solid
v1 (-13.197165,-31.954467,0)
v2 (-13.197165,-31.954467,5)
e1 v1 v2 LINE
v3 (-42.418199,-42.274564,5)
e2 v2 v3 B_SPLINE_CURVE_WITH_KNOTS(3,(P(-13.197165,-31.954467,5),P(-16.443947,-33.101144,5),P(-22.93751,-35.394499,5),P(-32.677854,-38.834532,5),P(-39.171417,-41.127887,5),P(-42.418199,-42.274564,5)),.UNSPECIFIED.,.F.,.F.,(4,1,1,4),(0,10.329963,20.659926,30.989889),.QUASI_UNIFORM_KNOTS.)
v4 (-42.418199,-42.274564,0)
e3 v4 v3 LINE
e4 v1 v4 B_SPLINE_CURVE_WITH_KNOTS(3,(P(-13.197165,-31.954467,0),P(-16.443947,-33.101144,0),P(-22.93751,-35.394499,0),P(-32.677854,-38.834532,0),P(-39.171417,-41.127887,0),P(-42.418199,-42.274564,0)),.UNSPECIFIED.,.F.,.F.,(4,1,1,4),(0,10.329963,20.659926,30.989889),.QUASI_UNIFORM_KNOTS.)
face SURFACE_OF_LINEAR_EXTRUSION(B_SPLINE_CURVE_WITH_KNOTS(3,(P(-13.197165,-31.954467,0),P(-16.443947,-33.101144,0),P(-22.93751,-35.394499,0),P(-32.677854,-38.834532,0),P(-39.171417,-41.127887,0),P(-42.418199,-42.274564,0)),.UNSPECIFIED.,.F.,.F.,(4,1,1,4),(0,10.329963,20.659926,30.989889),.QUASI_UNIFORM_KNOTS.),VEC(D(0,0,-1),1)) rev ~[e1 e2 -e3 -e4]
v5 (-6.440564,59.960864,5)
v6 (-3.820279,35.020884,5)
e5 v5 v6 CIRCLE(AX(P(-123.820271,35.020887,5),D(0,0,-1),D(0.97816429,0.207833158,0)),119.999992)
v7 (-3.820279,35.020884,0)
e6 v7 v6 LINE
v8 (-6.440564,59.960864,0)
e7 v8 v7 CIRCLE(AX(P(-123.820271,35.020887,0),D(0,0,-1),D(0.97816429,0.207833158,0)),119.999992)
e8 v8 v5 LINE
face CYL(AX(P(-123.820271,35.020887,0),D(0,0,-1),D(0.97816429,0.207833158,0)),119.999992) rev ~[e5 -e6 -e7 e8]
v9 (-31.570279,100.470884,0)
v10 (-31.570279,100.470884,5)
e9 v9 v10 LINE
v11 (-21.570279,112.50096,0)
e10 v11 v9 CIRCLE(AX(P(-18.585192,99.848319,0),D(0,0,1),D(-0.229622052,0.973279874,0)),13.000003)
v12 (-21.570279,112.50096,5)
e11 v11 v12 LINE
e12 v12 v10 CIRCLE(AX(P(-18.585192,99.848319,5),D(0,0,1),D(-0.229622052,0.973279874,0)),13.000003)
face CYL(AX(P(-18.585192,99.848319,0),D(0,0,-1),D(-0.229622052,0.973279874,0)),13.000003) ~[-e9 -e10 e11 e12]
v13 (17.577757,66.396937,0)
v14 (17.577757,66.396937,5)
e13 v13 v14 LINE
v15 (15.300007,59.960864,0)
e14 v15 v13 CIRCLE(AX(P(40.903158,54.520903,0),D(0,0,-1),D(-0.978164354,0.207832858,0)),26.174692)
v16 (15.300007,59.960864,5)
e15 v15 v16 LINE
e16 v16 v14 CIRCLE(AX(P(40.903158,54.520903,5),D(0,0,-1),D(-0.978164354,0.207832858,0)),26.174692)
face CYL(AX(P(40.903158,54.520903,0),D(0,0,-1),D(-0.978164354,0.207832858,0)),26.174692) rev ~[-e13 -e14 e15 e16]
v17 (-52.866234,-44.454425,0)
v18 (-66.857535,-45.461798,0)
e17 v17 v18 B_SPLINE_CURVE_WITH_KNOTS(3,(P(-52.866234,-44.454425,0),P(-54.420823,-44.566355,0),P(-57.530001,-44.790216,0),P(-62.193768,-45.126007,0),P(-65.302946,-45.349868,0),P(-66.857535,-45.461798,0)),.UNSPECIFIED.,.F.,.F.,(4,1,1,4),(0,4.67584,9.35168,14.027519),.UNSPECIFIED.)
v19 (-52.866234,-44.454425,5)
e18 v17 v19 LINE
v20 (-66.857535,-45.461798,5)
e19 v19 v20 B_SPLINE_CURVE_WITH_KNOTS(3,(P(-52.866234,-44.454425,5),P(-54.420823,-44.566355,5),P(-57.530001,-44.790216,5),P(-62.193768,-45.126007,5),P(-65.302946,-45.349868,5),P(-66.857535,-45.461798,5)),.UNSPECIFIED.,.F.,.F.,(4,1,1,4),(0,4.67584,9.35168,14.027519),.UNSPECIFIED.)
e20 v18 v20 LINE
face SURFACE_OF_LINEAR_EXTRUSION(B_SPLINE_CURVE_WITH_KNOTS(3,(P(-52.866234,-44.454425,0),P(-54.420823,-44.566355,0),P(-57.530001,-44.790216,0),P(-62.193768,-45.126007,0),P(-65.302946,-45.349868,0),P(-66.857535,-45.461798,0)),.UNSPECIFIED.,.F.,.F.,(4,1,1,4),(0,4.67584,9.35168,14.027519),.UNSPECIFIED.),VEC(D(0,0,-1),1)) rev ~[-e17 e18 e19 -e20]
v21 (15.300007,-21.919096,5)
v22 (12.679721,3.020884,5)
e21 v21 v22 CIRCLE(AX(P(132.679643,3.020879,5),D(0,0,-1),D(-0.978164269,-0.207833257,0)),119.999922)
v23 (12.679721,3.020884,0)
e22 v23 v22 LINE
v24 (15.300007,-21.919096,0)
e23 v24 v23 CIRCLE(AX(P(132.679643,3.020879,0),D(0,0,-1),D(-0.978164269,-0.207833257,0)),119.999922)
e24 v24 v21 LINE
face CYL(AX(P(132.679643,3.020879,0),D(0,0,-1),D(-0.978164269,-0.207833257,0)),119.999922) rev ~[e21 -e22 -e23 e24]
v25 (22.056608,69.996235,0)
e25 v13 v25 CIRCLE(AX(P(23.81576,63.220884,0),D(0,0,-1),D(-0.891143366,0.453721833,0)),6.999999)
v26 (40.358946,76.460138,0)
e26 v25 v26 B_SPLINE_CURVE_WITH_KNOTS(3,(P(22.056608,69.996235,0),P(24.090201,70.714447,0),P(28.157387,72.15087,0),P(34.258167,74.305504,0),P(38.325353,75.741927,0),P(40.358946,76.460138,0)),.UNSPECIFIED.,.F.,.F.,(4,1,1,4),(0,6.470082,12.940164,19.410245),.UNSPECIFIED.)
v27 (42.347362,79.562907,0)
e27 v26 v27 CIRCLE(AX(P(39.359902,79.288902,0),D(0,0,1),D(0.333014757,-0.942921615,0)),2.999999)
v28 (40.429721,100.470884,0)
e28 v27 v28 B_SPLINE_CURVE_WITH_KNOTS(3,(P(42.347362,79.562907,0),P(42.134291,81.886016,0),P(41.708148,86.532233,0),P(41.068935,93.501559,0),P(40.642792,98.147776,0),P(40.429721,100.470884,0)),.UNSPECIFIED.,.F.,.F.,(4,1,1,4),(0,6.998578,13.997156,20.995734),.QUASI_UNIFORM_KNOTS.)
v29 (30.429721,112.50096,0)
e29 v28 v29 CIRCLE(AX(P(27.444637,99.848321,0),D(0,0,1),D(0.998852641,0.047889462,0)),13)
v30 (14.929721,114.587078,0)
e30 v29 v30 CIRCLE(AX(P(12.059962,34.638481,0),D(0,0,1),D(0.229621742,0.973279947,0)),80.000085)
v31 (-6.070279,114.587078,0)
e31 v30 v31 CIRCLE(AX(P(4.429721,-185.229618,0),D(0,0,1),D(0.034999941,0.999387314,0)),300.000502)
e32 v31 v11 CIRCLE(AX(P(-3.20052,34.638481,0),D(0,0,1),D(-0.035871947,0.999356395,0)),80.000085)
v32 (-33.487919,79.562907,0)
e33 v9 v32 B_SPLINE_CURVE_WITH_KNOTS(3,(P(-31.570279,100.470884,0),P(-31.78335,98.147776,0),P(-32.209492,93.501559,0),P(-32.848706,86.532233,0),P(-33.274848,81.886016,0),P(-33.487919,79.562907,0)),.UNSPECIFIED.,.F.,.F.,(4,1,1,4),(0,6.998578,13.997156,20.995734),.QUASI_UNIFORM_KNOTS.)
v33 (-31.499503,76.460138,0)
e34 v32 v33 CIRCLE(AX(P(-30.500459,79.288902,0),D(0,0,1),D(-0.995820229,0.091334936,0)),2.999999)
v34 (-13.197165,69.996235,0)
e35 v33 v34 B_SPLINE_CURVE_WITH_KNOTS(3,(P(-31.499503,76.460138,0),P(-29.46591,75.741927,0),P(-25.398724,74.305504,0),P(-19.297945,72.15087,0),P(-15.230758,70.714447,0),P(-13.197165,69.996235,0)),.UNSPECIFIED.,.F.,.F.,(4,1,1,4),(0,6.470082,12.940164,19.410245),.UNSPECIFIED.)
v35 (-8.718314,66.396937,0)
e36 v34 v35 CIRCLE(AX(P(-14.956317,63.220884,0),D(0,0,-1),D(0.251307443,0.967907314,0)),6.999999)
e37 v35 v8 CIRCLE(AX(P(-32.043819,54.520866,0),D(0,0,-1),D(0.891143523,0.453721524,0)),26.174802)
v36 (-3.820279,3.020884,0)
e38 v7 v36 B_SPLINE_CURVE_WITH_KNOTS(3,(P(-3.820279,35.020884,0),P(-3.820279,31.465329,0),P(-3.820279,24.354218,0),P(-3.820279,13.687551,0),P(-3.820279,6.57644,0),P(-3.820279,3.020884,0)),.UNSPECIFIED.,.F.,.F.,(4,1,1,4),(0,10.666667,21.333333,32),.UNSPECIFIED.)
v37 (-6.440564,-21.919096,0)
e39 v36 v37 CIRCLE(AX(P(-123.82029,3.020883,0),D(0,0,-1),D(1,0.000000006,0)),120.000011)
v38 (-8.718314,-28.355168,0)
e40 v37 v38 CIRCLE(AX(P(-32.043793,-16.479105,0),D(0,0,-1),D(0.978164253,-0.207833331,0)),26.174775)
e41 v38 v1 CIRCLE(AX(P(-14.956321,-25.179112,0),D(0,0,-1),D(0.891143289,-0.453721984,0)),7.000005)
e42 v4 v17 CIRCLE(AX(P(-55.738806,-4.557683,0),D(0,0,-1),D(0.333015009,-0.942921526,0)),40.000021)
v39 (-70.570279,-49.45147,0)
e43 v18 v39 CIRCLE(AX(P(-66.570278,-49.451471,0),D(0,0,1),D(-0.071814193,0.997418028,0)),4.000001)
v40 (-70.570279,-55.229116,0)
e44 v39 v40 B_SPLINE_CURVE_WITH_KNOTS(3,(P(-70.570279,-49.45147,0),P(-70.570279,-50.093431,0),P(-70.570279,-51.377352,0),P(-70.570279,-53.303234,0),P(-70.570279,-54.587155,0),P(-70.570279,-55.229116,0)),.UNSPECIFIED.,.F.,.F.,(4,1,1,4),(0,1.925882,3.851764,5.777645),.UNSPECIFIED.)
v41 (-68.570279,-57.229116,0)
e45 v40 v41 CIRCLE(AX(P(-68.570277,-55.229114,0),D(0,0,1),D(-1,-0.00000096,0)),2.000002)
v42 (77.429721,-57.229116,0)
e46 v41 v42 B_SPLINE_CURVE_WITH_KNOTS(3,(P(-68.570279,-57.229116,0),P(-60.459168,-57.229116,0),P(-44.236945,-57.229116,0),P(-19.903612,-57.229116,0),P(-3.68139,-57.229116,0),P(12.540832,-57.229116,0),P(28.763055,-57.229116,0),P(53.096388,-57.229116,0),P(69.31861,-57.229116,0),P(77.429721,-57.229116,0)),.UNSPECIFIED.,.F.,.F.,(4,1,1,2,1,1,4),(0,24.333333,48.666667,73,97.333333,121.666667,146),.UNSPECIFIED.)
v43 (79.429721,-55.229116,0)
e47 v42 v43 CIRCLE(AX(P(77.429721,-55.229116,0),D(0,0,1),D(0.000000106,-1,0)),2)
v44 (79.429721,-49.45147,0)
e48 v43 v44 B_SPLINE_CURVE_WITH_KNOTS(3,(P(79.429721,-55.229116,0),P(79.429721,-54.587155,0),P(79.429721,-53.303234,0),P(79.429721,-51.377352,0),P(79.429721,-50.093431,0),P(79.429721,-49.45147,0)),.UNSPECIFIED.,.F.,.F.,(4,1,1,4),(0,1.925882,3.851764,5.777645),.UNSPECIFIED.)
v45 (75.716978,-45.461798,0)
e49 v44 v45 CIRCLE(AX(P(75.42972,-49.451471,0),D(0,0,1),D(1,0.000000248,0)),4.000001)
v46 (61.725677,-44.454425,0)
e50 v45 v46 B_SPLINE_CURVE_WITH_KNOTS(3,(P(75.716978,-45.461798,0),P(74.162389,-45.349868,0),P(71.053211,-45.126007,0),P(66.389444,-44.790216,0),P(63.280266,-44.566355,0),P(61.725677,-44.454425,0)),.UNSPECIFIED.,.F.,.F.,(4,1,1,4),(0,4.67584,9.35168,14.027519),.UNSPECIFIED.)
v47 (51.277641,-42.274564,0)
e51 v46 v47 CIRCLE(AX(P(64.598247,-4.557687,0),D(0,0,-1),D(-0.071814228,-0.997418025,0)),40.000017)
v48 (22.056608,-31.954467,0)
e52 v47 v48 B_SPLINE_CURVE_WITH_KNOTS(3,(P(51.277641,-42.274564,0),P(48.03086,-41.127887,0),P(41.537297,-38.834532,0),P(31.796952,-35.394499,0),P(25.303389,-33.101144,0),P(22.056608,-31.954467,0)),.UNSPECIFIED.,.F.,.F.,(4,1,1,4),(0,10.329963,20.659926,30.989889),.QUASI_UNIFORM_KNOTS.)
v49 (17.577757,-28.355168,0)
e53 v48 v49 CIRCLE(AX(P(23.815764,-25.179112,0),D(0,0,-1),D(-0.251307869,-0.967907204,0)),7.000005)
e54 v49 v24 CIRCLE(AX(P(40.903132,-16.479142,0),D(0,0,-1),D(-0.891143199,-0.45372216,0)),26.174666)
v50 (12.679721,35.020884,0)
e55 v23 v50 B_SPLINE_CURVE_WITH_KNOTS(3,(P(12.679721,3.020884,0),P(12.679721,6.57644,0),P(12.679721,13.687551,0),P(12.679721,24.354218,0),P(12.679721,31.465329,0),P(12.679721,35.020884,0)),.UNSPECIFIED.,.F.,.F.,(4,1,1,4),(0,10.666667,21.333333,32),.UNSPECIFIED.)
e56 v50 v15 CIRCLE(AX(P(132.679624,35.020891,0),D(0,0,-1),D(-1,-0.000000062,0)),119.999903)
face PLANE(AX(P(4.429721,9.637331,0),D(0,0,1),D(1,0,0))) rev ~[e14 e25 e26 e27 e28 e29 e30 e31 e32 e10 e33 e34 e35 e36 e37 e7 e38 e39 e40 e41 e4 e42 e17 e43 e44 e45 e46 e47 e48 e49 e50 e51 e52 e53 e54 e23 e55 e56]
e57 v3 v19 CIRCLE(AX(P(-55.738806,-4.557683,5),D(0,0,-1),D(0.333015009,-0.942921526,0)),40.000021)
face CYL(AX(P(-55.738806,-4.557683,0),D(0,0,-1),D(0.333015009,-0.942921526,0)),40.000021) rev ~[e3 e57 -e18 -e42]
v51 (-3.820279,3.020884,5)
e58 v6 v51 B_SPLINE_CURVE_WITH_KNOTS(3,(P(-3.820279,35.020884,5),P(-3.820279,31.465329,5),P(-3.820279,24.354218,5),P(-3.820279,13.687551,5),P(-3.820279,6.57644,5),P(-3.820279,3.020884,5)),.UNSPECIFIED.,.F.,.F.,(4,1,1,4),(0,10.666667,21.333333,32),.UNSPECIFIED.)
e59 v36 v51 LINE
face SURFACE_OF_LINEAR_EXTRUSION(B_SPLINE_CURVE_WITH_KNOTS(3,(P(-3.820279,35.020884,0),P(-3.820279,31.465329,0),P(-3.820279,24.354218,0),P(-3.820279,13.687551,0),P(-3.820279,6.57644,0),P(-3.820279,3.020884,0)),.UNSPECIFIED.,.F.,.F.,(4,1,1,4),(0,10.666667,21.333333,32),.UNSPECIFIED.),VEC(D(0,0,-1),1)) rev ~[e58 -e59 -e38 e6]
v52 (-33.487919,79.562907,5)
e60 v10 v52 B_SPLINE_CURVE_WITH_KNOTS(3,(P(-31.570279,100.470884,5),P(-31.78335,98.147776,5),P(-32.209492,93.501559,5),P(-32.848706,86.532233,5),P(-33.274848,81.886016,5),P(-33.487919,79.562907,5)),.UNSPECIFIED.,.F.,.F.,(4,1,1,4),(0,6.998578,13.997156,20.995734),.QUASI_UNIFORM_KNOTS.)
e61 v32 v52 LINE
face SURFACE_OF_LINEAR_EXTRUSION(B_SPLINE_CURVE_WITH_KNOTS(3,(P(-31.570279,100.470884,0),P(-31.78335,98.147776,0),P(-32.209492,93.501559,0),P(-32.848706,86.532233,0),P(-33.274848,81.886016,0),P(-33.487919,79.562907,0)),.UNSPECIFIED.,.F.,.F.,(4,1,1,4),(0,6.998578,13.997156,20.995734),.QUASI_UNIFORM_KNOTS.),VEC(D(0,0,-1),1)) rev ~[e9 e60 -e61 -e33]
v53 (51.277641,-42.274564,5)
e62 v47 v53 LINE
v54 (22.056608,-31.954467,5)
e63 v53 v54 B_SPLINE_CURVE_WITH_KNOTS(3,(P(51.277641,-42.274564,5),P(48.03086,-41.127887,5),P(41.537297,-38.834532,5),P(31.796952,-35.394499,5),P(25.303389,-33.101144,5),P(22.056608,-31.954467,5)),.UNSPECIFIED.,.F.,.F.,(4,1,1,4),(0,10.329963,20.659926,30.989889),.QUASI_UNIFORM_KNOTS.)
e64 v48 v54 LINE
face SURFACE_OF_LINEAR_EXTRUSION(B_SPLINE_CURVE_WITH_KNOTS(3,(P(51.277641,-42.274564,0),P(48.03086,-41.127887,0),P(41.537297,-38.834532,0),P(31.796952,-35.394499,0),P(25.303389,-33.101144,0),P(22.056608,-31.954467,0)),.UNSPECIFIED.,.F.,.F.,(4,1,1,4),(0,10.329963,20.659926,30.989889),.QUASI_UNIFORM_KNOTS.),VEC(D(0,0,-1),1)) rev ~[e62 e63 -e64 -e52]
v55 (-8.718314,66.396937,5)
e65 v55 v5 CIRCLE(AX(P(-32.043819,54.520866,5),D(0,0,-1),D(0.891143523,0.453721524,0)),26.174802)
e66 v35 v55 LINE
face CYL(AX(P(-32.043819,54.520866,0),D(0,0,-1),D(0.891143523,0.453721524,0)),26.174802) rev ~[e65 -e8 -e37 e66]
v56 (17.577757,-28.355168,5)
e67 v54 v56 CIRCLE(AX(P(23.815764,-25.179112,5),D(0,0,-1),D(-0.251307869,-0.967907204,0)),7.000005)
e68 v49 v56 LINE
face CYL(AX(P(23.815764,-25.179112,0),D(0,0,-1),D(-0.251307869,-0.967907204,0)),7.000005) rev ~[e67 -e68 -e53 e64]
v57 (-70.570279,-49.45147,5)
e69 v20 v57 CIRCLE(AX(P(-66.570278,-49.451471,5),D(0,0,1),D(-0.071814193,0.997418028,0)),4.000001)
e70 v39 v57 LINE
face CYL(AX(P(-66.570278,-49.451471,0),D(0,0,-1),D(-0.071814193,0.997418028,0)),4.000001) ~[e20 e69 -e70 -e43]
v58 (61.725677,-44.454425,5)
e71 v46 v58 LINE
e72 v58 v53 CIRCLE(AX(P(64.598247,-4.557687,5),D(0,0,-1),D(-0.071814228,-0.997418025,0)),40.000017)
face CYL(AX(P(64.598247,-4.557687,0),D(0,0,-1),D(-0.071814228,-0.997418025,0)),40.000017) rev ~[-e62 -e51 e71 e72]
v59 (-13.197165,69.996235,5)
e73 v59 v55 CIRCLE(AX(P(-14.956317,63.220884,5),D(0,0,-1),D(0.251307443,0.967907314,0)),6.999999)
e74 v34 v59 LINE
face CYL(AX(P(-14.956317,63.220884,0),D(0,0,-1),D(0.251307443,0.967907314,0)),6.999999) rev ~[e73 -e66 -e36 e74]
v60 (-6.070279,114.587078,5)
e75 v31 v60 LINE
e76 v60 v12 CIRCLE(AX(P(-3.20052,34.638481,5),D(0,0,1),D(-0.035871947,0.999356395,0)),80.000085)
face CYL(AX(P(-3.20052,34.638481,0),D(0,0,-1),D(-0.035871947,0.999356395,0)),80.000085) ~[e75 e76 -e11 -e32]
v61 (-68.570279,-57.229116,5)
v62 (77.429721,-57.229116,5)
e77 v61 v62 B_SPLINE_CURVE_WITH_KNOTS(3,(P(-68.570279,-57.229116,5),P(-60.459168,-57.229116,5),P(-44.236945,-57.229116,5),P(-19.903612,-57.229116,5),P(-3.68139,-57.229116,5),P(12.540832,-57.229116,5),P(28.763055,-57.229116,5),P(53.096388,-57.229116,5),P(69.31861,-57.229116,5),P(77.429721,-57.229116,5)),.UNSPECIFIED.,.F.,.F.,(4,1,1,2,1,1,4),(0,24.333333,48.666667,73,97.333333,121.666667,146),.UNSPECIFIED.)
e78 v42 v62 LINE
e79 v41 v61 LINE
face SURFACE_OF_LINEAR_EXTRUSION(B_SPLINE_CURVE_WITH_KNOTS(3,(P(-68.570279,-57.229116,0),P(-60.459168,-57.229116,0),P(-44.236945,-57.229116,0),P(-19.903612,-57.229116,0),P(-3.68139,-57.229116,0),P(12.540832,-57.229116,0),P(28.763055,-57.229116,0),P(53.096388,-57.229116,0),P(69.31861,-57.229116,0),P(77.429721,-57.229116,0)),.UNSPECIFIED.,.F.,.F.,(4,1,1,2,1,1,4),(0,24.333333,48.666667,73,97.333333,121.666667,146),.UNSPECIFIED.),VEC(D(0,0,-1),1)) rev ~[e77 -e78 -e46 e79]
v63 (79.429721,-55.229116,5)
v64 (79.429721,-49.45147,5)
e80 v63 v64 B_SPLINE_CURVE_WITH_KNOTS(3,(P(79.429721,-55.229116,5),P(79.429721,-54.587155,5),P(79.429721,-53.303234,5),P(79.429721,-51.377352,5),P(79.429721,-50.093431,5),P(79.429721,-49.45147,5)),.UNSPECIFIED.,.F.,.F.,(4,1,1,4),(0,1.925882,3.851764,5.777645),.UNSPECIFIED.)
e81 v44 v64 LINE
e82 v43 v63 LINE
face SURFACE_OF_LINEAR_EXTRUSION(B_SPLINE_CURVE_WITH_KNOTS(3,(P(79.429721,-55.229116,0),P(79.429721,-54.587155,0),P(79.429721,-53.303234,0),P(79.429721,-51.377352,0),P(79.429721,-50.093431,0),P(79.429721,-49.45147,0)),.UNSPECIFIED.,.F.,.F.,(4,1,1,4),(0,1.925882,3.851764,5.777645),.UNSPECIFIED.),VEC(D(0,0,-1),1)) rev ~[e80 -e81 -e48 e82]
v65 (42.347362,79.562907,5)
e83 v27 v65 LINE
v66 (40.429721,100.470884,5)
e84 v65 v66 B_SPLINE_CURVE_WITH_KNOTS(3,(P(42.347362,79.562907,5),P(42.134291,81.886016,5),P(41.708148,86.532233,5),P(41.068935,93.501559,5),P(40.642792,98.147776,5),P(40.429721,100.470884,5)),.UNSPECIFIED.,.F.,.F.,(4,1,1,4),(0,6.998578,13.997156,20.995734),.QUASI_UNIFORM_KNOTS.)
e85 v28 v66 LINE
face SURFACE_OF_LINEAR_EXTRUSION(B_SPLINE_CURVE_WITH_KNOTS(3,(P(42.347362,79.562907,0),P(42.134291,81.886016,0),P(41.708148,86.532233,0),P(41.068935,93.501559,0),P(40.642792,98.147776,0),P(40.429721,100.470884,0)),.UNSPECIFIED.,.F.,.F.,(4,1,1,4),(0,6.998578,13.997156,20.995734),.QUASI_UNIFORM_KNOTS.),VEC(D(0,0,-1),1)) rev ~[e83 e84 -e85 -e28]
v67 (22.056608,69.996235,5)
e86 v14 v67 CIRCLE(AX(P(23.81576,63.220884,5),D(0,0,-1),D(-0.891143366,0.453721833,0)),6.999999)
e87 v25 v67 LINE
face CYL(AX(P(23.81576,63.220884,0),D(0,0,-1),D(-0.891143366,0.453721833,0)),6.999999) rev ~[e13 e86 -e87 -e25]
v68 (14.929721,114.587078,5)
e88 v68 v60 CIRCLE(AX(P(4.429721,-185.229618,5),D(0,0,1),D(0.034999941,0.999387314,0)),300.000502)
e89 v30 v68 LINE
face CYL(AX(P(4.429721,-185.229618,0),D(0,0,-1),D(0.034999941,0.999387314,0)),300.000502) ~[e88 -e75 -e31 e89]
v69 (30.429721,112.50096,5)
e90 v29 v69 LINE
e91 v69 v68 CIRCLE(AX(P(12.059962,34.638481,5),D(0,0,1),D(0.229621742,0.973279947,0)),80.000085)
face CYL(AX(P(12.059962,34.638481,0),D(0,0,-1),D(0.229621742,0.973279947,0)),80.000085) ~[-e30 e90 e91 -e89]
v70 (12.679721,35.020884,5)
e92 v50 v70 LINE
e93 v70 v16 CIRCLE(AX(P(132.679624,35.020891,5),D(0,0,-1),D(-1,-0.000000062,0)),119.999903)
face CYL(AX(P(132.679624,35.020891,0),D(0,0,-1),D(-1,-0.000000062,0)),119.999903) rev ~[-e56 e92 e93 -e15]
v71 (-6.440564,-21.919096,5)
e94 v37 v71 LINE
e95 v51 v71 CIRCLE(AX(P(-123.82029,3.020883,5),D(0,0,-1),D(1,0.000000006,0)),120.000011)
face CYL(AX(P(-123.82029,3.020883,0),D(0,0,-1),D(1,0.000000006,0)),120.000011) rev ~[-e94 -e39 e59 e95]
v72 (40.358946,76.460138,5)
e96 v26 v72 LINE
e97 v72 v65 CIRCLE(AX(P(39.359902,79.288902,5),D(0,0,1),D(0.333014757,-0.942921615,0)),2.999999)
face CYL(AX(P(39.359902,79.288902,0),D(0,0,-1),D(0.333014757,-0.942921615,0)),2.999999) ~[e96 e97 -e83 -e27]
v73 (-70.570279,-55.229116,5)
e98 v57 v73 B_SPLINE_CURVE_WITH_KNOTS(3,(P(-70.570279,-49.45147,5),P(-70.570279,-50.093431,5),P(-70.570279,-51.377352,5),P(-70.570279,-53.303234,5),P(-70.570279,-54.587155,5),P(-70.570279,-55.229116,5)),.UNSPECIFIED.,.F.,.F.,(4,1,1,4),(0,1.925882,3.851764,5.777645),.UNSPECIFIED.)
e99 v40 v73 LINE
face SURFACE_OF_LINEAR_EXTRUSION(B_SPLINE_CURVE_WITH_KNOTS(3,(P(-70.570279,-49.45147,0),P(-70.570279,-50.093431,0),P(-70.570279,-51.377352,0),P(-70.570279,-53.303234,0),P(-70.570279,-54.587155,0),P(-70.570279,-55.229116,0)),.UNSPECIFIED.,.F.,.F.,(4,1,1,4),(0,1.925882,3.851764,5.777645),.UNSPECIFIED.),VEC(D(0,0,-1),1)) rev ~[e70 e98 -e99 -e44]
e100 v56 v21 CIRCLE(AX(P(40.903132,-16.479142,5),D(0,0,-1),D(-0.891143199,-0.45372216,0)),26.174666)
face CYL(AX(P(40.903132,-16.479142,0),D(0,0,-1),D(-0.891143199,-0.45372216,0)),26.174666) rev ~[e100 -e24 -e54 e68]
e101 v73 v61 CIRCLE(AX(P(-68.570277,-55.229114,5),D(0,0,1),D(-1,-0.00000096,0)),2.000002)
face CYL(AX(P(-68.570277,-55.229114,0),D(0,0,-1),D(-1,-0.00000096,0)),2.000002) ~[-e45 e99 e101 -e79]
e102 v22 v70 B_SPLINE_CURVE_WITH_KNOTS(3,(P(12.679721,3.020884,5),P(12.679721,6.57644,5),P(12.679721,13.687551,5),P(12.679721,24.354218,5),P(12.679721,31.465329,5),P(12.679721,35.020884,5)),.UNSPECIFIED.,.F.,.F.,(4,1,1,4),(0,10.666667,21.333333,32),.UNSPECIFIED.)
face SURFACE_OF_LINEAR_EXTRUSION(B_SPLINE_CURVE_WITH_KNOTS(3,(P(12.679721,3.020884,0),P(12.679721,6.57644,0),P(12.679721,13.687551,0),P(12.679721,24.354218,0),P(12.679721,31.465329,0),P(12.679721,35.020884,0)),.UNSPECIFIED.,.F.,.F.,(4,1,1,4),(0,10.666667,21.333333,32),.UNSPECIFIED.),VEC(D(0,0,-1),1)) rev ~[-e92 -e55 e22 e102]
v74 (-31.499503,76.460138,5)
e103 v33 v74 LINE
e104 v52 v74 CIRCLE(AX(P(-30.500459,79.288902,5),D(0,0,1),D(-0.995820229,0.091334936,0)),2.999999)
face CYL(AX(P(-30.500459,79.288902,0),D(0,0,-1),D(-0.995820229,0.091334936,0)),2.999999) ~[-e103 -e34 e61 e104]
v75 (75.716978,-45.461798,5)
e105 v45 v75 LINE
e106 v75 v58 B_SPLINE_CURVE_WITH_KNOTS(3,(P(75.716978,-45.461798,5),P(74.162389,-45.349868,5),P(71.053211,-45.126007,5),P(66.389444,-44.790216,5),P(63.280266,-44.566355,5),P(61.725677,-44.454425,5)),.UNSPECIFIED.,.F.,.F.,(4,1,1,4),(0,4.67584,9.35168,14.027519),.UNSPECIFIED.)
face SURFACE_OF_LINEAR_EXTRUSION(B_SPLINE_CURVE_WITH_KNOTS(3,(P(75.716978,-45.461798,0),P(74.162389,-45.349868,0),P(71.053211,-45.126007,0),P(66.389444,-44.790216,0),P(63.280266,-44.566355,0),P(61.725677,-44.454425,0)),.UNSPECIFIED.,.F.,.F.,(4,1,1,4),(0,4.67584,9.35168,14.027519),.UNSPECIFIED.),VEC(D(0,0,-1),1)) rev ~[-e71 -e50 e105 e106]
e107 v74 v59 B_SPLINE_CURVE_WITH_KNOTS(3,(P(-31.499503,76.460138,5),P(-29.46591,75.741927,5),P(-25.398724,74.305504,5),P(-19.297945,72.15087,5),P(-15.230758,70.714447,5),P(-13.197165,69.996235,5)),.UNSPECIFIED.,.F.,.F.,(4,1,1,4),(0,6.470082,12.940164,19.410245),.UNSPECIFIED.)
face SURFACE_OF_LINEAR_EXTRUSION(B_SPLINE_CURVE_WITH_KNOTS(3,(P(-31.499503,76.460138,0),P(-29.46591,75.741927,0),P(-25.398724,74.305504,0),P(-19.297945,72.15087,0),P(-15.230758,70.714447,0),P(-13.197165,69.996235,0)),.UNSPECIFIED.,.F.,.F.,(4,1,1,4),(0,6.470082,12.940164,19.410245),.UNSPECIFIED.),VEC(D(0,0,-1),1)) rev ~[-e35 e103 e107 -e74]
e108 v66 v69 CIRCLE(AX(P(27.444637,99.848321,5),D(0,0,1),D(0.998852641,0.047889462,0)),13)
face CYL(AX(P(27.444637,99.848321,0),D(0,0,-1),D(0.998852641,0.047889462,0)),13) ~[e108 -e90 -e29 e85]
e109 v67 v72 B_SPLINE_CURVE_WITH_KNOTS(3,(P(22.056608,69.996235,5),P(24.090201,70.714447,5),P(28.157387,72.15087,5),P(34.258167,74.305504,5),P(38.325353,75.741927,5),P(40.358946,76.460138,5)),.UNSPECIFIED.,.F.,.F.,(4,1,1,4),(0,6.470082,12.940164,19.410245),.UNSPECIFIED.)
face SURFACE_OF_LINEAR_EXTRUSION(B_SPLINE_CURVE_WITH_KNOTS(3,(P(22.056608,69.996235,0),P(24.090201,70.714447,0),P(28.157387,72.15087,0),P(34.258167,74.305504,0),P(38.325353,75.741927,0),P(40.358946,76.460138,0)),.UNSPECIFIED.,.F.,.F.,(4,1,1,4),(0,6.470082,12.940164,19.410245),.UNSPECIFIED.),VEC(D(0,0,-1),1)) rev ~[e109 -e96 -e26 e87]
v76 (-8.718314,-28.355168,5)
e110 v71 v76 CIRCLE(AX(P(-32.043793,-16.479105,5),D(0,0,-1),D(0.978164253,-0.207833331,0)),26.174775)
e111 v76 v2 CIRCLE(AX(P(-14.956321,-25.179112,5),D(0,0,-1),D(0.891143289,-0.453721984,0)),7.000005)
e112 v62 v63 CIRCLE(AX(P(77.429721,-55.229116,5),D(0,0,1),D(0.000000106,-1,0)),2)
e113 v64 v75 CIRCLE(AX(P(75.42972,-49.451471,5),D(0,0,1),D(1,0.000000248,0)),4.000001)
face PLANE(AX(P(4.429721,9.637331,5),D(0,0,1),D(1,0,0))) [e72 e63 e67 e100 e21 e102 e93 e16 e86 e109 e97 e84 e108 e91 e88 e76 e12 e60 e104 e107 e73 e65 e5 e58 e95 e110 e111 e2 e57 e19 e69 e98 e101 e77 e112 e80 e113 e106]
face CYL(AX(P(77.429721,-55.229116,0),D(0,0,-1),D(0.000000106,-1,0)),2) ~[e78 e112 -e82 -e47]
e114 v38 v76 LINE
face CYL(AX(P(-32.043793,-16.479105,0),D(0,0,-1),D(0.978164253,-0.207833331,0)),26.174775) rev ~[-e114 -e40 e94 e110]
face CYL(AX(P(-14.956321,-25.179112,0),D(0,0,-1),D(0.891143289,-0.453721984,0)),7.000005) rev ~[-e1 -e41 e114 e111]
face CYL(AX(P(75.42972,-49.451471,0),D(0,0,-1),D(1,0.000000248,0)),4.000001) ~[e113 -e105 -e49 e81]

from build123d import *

# Parameters (mm, degrees)
F1_DEPTH = 5


with BuildPart() as f1:
    # F0 (on Top) → F1 (new body)
    with BuildSketch(Plane.XY):
        with BuildLine():
            add(Edge.make_bspline(
                [(42.347362, 79.562907), (42.134291, 81.886016), (41.708148, 86.532233), (41.068935, 93.501559), (40.642792, 98.147776), (40.429721, 100.470884)],
                knots=[0, 0, 0, 0, 6.998578, 13.997156, 20.995734, 20.995734, 20.995734, 20.995734], degree=3))
            ThreePointArc((40.429721, 100.470884), (37.441749, 108.15842), (30.429721, 112.50096))
            ThreePointArc((30.429721, 112.50096), (22.730822, 113.923703), (14.929721, 114.587078))
            ThreePointArc((14.929721, 114.587078), (4.429721, 114.770884), (-6.070279, 114.587078))
            ThreePointArc((-6.070279, 114.587078), (-13.87138, 113.923703), (-21.570279, 112.50096))
            ThreePointArc((-21.570279, 112.50096), (-28.582306, 108.15842), (-31.570279, 100.470884))
            add(Edge.make_bspline(
                [(-31.570279, 100.470884), (-31.78335, 98.147776), (-32.209492, 93.501559), (-32.848706, 86.532233), (-33.274848, 81.886016), (-33.487919, 79.562907)],
                knots=[0, 0, 0, 0, 6.998578, 13.997156, 20.995734, 20.995734, 20.995734, 20.995734], degree=3))
            ThreePointArc((-33.487919, 79.562907), (-33.026295, 77.670215), (-31.499503, 76.460138))
            add(Edge.make_bspline(
                [(-31.499503, 76.460138), (-29.46591, 75.741927), (-25.398724, 74.305504), (-19.297945, 72.15087), (-15.230758, 70.714447), (-13.197165, 69.996235)],
                knots=[0, 0, 0, 0, 6.470082, 12.940164, 19.410245, 19.410245, 19.410245, 19.410245], degree=3))
            ThreePointArc((-13.197165, 69.996235), (-10.571416, 68.677315), (-8.718314, 66.396937))
            ThreePointArc((-8.718314, 66.396937), (-7.368697, 63.253483), (-6.440564, 59.960864))
            ThreePointArc((-6.440564, 59.960864), (-4.477148, 47.55951), (-3.820279, 35.020884))
            add(Edge.make_bspline(
                [(-3.820279, 35.020884), (-3.820279, 31.465329), (-3.820279, 24.354218), (-3.820279, 13.687551), (-3.820279, 6.57644), (-3.820279, 3.020884)],
                knots=[0, 0, 0, 0, 10.666667, 21.333333, 32, 32, 32, 32], degree=3))
            ThreePointArc((-3.820279, 3.020884), (-4.477148, -9.517741), (-6.440564, -21.919096))
            ThreePointArc((-6.440564, -21.919096), (-7.368697, -25.211715), (-8.718314, -28.355168))
            ThreePointArc((-8.718314, -28.355168), (-10.571416, -30.635546), (-13.197165, -31.954467))
            add(Edge.make_bspline(
                [(-13.197165, -31.954467), (-16.443947, -33.101144), (-22.93751, -35.394499), (-32.677854, -38.834532), (-39.171417, -41.127887), (-42.418199, -42.274564)],
                knots=[0, 0, 0, 0, 10.329963, 20.659926, 30.989889, 30.989889, 30.989889, 30.989889], degree=3))
            ThreePointArc((-42.418199, -42.274564), (-47.569185, -43.714534), (-52.866234, -44.454425))
            add(Edge.make_bspline(
                [(-52.866234, -44.454425), (-54.420823, -44.566355), (-57.530001, -44.790216), (-62.193768, -45.126007), (-65.302946, -45.349868), (-66.857535, -45.461798)],
                knots=[0, 0, 0, 0, 4.67584, 9.35168, 14.027519, 14.027519, 14.027519, 14.027519], degree=3))
            ThreePointArc((-66.857535, -45.461798), (-69.498506, -46.726496), (-70.570279, -49.45147))
            add(Edge.make_bspline(
                [(-70.570279, -49.45147), (-70.570279, -50.093431), (-70.570279, -51.377352), (-70.570279, -53.303234), (-70.570279, -54.587155), (-70.570279, -55.229116)],
                knots=[0, 0, 0, 0, 1.925882, 3.851764, 5.777645, 5.777645, 5.777645, 5.777645], degree=3))
            ThreePointArc((-70.570279, -55.229116), (-69.984492, -56.643329), (-68.570279, -57.229116))
            add(Edge.make_bspline(
                [(-68.570279, -57.229116), (-60.459168, -57.229116), (-44.236945, -57.229116), (-19.903612, -57.229116), (-3.68139, -57.229116), (4.429721, -57.229116)],
                knots=[0, 0, 0, 0, 24.333333, 48.666667, 73, 73, 73, 73], degree=3))
            add(Edge.make_bspline(
                [(4.429721, -57.229116), (12.540832, -57.229116), (28.763055, -57.229116), (53.096388, -57.229116), (69.31861, -57.229116), (77.429721, -57.229116)],
                knots=[0, 0, 0, 0, 24.333333, 48.666667, 73, 73, 73, 73], degree=3))
            ThreePointArc((77.429721, -57.229116), (78.843935, -56.643329), (79.429721, -55.229116))
            add(Edge.make_bspline(
                [(79.429721, -55.229116), (79.429721, -54.587155), (79.429721, -53.303234), (79.429721, -51.377352), (79.429721, -50.093431), (79.429721, -49.45147)],
                knots=[0, 0, 0, 0, 1.925882, 3.851764, 5.777645, 5.777645, 5.777645, 5.777645], degree=3))
            ThreePointArc((79.429721, -49.45147), (78.357948, -46.726496), (75.716978, -45.461798))
            add(Edge.make_bspline(
                [(75.716978, -45.461798), (74.162389, -45.349868), (71.053211, -45.126007), (66.389444, -44.790216), (63.280266, -44.566355), (61.725677, -44.454425)],
                knots=[0, 0, 0, 0, 4.67584, 9.35168, 14.027519, 14.027519, 14.027519, 14.027519], degree=3))
            ThreePointArc((61.725677, -44.454425), (56.428627, -43.714534), (51.277641, -42.274564))
            add(Edge.make_bspline(
                [(51.277641, -42.274564), (48.03086, -41.127887), (41.537297, -38.834532), (31.796952, -35.394499), (25.303389, -33.101144), (22.056608, -31.954467)],
                knots=[0, 0, 0, 0, 10.329963, 20.659926, 30.989889, 30.989889, 30.989889, 30.989889], degree=3))
            ThreePointArc((22.056608, -31.954467), (19.430859, -30.635546), (17.577757, -28.355168))
            ThreePointArc((17.577757, -28.355168), (16.228139, -25.211715), (15.300007, -21.919096))
            ThreePointArc((15.300007, -21.919096), (13.33659, -9.517741), (12.679721, 3.020884))
            add(Edge.make_bspline(
                [(12.679721, 3.020884), (12.679721, 6.57644), (12.679721, 13.687551), (12.679721, 24.354218), (12.679721, 31.465329), (12.679721, 35.020884)],
                knots=[0, 0, 0, 0, 10.666667, 21.333333, 32, 32, 32, 32], degree=3))
            ThreePointArc((12.679721, 35.020884), (13.33659, 47.55951), (15.300007, 59.960864))
            ThreePointArc((15.300007, 59.960864), (16.228139, 63.253483), (17.577757, 66.396937))
            ThreePointArc((17.577757, 66.396937), (19.430859, 68.677315), (22.056608, 69.996235))
            add(Edge.make_bspline(
                [(22.056608, 69.996235), (24.090201, 70.714447), (28.157387, 72.15087), (34.258167, 74.305504), (38.325353, 75.741927), (40.358946, 76.460138)],
                knots=[0, 0, 0, 0, 6.470082, 12.940164, 19.410245, 19.410245, 19.410245, 19.410245], degree=3))
            ThreePointArc((40.358946, 76.460138), (41.885738, 77.670215), (42.347362, 79.562907))
        make_face()
    extrude(amount=F1_DEPTH)


solid = f1.part
